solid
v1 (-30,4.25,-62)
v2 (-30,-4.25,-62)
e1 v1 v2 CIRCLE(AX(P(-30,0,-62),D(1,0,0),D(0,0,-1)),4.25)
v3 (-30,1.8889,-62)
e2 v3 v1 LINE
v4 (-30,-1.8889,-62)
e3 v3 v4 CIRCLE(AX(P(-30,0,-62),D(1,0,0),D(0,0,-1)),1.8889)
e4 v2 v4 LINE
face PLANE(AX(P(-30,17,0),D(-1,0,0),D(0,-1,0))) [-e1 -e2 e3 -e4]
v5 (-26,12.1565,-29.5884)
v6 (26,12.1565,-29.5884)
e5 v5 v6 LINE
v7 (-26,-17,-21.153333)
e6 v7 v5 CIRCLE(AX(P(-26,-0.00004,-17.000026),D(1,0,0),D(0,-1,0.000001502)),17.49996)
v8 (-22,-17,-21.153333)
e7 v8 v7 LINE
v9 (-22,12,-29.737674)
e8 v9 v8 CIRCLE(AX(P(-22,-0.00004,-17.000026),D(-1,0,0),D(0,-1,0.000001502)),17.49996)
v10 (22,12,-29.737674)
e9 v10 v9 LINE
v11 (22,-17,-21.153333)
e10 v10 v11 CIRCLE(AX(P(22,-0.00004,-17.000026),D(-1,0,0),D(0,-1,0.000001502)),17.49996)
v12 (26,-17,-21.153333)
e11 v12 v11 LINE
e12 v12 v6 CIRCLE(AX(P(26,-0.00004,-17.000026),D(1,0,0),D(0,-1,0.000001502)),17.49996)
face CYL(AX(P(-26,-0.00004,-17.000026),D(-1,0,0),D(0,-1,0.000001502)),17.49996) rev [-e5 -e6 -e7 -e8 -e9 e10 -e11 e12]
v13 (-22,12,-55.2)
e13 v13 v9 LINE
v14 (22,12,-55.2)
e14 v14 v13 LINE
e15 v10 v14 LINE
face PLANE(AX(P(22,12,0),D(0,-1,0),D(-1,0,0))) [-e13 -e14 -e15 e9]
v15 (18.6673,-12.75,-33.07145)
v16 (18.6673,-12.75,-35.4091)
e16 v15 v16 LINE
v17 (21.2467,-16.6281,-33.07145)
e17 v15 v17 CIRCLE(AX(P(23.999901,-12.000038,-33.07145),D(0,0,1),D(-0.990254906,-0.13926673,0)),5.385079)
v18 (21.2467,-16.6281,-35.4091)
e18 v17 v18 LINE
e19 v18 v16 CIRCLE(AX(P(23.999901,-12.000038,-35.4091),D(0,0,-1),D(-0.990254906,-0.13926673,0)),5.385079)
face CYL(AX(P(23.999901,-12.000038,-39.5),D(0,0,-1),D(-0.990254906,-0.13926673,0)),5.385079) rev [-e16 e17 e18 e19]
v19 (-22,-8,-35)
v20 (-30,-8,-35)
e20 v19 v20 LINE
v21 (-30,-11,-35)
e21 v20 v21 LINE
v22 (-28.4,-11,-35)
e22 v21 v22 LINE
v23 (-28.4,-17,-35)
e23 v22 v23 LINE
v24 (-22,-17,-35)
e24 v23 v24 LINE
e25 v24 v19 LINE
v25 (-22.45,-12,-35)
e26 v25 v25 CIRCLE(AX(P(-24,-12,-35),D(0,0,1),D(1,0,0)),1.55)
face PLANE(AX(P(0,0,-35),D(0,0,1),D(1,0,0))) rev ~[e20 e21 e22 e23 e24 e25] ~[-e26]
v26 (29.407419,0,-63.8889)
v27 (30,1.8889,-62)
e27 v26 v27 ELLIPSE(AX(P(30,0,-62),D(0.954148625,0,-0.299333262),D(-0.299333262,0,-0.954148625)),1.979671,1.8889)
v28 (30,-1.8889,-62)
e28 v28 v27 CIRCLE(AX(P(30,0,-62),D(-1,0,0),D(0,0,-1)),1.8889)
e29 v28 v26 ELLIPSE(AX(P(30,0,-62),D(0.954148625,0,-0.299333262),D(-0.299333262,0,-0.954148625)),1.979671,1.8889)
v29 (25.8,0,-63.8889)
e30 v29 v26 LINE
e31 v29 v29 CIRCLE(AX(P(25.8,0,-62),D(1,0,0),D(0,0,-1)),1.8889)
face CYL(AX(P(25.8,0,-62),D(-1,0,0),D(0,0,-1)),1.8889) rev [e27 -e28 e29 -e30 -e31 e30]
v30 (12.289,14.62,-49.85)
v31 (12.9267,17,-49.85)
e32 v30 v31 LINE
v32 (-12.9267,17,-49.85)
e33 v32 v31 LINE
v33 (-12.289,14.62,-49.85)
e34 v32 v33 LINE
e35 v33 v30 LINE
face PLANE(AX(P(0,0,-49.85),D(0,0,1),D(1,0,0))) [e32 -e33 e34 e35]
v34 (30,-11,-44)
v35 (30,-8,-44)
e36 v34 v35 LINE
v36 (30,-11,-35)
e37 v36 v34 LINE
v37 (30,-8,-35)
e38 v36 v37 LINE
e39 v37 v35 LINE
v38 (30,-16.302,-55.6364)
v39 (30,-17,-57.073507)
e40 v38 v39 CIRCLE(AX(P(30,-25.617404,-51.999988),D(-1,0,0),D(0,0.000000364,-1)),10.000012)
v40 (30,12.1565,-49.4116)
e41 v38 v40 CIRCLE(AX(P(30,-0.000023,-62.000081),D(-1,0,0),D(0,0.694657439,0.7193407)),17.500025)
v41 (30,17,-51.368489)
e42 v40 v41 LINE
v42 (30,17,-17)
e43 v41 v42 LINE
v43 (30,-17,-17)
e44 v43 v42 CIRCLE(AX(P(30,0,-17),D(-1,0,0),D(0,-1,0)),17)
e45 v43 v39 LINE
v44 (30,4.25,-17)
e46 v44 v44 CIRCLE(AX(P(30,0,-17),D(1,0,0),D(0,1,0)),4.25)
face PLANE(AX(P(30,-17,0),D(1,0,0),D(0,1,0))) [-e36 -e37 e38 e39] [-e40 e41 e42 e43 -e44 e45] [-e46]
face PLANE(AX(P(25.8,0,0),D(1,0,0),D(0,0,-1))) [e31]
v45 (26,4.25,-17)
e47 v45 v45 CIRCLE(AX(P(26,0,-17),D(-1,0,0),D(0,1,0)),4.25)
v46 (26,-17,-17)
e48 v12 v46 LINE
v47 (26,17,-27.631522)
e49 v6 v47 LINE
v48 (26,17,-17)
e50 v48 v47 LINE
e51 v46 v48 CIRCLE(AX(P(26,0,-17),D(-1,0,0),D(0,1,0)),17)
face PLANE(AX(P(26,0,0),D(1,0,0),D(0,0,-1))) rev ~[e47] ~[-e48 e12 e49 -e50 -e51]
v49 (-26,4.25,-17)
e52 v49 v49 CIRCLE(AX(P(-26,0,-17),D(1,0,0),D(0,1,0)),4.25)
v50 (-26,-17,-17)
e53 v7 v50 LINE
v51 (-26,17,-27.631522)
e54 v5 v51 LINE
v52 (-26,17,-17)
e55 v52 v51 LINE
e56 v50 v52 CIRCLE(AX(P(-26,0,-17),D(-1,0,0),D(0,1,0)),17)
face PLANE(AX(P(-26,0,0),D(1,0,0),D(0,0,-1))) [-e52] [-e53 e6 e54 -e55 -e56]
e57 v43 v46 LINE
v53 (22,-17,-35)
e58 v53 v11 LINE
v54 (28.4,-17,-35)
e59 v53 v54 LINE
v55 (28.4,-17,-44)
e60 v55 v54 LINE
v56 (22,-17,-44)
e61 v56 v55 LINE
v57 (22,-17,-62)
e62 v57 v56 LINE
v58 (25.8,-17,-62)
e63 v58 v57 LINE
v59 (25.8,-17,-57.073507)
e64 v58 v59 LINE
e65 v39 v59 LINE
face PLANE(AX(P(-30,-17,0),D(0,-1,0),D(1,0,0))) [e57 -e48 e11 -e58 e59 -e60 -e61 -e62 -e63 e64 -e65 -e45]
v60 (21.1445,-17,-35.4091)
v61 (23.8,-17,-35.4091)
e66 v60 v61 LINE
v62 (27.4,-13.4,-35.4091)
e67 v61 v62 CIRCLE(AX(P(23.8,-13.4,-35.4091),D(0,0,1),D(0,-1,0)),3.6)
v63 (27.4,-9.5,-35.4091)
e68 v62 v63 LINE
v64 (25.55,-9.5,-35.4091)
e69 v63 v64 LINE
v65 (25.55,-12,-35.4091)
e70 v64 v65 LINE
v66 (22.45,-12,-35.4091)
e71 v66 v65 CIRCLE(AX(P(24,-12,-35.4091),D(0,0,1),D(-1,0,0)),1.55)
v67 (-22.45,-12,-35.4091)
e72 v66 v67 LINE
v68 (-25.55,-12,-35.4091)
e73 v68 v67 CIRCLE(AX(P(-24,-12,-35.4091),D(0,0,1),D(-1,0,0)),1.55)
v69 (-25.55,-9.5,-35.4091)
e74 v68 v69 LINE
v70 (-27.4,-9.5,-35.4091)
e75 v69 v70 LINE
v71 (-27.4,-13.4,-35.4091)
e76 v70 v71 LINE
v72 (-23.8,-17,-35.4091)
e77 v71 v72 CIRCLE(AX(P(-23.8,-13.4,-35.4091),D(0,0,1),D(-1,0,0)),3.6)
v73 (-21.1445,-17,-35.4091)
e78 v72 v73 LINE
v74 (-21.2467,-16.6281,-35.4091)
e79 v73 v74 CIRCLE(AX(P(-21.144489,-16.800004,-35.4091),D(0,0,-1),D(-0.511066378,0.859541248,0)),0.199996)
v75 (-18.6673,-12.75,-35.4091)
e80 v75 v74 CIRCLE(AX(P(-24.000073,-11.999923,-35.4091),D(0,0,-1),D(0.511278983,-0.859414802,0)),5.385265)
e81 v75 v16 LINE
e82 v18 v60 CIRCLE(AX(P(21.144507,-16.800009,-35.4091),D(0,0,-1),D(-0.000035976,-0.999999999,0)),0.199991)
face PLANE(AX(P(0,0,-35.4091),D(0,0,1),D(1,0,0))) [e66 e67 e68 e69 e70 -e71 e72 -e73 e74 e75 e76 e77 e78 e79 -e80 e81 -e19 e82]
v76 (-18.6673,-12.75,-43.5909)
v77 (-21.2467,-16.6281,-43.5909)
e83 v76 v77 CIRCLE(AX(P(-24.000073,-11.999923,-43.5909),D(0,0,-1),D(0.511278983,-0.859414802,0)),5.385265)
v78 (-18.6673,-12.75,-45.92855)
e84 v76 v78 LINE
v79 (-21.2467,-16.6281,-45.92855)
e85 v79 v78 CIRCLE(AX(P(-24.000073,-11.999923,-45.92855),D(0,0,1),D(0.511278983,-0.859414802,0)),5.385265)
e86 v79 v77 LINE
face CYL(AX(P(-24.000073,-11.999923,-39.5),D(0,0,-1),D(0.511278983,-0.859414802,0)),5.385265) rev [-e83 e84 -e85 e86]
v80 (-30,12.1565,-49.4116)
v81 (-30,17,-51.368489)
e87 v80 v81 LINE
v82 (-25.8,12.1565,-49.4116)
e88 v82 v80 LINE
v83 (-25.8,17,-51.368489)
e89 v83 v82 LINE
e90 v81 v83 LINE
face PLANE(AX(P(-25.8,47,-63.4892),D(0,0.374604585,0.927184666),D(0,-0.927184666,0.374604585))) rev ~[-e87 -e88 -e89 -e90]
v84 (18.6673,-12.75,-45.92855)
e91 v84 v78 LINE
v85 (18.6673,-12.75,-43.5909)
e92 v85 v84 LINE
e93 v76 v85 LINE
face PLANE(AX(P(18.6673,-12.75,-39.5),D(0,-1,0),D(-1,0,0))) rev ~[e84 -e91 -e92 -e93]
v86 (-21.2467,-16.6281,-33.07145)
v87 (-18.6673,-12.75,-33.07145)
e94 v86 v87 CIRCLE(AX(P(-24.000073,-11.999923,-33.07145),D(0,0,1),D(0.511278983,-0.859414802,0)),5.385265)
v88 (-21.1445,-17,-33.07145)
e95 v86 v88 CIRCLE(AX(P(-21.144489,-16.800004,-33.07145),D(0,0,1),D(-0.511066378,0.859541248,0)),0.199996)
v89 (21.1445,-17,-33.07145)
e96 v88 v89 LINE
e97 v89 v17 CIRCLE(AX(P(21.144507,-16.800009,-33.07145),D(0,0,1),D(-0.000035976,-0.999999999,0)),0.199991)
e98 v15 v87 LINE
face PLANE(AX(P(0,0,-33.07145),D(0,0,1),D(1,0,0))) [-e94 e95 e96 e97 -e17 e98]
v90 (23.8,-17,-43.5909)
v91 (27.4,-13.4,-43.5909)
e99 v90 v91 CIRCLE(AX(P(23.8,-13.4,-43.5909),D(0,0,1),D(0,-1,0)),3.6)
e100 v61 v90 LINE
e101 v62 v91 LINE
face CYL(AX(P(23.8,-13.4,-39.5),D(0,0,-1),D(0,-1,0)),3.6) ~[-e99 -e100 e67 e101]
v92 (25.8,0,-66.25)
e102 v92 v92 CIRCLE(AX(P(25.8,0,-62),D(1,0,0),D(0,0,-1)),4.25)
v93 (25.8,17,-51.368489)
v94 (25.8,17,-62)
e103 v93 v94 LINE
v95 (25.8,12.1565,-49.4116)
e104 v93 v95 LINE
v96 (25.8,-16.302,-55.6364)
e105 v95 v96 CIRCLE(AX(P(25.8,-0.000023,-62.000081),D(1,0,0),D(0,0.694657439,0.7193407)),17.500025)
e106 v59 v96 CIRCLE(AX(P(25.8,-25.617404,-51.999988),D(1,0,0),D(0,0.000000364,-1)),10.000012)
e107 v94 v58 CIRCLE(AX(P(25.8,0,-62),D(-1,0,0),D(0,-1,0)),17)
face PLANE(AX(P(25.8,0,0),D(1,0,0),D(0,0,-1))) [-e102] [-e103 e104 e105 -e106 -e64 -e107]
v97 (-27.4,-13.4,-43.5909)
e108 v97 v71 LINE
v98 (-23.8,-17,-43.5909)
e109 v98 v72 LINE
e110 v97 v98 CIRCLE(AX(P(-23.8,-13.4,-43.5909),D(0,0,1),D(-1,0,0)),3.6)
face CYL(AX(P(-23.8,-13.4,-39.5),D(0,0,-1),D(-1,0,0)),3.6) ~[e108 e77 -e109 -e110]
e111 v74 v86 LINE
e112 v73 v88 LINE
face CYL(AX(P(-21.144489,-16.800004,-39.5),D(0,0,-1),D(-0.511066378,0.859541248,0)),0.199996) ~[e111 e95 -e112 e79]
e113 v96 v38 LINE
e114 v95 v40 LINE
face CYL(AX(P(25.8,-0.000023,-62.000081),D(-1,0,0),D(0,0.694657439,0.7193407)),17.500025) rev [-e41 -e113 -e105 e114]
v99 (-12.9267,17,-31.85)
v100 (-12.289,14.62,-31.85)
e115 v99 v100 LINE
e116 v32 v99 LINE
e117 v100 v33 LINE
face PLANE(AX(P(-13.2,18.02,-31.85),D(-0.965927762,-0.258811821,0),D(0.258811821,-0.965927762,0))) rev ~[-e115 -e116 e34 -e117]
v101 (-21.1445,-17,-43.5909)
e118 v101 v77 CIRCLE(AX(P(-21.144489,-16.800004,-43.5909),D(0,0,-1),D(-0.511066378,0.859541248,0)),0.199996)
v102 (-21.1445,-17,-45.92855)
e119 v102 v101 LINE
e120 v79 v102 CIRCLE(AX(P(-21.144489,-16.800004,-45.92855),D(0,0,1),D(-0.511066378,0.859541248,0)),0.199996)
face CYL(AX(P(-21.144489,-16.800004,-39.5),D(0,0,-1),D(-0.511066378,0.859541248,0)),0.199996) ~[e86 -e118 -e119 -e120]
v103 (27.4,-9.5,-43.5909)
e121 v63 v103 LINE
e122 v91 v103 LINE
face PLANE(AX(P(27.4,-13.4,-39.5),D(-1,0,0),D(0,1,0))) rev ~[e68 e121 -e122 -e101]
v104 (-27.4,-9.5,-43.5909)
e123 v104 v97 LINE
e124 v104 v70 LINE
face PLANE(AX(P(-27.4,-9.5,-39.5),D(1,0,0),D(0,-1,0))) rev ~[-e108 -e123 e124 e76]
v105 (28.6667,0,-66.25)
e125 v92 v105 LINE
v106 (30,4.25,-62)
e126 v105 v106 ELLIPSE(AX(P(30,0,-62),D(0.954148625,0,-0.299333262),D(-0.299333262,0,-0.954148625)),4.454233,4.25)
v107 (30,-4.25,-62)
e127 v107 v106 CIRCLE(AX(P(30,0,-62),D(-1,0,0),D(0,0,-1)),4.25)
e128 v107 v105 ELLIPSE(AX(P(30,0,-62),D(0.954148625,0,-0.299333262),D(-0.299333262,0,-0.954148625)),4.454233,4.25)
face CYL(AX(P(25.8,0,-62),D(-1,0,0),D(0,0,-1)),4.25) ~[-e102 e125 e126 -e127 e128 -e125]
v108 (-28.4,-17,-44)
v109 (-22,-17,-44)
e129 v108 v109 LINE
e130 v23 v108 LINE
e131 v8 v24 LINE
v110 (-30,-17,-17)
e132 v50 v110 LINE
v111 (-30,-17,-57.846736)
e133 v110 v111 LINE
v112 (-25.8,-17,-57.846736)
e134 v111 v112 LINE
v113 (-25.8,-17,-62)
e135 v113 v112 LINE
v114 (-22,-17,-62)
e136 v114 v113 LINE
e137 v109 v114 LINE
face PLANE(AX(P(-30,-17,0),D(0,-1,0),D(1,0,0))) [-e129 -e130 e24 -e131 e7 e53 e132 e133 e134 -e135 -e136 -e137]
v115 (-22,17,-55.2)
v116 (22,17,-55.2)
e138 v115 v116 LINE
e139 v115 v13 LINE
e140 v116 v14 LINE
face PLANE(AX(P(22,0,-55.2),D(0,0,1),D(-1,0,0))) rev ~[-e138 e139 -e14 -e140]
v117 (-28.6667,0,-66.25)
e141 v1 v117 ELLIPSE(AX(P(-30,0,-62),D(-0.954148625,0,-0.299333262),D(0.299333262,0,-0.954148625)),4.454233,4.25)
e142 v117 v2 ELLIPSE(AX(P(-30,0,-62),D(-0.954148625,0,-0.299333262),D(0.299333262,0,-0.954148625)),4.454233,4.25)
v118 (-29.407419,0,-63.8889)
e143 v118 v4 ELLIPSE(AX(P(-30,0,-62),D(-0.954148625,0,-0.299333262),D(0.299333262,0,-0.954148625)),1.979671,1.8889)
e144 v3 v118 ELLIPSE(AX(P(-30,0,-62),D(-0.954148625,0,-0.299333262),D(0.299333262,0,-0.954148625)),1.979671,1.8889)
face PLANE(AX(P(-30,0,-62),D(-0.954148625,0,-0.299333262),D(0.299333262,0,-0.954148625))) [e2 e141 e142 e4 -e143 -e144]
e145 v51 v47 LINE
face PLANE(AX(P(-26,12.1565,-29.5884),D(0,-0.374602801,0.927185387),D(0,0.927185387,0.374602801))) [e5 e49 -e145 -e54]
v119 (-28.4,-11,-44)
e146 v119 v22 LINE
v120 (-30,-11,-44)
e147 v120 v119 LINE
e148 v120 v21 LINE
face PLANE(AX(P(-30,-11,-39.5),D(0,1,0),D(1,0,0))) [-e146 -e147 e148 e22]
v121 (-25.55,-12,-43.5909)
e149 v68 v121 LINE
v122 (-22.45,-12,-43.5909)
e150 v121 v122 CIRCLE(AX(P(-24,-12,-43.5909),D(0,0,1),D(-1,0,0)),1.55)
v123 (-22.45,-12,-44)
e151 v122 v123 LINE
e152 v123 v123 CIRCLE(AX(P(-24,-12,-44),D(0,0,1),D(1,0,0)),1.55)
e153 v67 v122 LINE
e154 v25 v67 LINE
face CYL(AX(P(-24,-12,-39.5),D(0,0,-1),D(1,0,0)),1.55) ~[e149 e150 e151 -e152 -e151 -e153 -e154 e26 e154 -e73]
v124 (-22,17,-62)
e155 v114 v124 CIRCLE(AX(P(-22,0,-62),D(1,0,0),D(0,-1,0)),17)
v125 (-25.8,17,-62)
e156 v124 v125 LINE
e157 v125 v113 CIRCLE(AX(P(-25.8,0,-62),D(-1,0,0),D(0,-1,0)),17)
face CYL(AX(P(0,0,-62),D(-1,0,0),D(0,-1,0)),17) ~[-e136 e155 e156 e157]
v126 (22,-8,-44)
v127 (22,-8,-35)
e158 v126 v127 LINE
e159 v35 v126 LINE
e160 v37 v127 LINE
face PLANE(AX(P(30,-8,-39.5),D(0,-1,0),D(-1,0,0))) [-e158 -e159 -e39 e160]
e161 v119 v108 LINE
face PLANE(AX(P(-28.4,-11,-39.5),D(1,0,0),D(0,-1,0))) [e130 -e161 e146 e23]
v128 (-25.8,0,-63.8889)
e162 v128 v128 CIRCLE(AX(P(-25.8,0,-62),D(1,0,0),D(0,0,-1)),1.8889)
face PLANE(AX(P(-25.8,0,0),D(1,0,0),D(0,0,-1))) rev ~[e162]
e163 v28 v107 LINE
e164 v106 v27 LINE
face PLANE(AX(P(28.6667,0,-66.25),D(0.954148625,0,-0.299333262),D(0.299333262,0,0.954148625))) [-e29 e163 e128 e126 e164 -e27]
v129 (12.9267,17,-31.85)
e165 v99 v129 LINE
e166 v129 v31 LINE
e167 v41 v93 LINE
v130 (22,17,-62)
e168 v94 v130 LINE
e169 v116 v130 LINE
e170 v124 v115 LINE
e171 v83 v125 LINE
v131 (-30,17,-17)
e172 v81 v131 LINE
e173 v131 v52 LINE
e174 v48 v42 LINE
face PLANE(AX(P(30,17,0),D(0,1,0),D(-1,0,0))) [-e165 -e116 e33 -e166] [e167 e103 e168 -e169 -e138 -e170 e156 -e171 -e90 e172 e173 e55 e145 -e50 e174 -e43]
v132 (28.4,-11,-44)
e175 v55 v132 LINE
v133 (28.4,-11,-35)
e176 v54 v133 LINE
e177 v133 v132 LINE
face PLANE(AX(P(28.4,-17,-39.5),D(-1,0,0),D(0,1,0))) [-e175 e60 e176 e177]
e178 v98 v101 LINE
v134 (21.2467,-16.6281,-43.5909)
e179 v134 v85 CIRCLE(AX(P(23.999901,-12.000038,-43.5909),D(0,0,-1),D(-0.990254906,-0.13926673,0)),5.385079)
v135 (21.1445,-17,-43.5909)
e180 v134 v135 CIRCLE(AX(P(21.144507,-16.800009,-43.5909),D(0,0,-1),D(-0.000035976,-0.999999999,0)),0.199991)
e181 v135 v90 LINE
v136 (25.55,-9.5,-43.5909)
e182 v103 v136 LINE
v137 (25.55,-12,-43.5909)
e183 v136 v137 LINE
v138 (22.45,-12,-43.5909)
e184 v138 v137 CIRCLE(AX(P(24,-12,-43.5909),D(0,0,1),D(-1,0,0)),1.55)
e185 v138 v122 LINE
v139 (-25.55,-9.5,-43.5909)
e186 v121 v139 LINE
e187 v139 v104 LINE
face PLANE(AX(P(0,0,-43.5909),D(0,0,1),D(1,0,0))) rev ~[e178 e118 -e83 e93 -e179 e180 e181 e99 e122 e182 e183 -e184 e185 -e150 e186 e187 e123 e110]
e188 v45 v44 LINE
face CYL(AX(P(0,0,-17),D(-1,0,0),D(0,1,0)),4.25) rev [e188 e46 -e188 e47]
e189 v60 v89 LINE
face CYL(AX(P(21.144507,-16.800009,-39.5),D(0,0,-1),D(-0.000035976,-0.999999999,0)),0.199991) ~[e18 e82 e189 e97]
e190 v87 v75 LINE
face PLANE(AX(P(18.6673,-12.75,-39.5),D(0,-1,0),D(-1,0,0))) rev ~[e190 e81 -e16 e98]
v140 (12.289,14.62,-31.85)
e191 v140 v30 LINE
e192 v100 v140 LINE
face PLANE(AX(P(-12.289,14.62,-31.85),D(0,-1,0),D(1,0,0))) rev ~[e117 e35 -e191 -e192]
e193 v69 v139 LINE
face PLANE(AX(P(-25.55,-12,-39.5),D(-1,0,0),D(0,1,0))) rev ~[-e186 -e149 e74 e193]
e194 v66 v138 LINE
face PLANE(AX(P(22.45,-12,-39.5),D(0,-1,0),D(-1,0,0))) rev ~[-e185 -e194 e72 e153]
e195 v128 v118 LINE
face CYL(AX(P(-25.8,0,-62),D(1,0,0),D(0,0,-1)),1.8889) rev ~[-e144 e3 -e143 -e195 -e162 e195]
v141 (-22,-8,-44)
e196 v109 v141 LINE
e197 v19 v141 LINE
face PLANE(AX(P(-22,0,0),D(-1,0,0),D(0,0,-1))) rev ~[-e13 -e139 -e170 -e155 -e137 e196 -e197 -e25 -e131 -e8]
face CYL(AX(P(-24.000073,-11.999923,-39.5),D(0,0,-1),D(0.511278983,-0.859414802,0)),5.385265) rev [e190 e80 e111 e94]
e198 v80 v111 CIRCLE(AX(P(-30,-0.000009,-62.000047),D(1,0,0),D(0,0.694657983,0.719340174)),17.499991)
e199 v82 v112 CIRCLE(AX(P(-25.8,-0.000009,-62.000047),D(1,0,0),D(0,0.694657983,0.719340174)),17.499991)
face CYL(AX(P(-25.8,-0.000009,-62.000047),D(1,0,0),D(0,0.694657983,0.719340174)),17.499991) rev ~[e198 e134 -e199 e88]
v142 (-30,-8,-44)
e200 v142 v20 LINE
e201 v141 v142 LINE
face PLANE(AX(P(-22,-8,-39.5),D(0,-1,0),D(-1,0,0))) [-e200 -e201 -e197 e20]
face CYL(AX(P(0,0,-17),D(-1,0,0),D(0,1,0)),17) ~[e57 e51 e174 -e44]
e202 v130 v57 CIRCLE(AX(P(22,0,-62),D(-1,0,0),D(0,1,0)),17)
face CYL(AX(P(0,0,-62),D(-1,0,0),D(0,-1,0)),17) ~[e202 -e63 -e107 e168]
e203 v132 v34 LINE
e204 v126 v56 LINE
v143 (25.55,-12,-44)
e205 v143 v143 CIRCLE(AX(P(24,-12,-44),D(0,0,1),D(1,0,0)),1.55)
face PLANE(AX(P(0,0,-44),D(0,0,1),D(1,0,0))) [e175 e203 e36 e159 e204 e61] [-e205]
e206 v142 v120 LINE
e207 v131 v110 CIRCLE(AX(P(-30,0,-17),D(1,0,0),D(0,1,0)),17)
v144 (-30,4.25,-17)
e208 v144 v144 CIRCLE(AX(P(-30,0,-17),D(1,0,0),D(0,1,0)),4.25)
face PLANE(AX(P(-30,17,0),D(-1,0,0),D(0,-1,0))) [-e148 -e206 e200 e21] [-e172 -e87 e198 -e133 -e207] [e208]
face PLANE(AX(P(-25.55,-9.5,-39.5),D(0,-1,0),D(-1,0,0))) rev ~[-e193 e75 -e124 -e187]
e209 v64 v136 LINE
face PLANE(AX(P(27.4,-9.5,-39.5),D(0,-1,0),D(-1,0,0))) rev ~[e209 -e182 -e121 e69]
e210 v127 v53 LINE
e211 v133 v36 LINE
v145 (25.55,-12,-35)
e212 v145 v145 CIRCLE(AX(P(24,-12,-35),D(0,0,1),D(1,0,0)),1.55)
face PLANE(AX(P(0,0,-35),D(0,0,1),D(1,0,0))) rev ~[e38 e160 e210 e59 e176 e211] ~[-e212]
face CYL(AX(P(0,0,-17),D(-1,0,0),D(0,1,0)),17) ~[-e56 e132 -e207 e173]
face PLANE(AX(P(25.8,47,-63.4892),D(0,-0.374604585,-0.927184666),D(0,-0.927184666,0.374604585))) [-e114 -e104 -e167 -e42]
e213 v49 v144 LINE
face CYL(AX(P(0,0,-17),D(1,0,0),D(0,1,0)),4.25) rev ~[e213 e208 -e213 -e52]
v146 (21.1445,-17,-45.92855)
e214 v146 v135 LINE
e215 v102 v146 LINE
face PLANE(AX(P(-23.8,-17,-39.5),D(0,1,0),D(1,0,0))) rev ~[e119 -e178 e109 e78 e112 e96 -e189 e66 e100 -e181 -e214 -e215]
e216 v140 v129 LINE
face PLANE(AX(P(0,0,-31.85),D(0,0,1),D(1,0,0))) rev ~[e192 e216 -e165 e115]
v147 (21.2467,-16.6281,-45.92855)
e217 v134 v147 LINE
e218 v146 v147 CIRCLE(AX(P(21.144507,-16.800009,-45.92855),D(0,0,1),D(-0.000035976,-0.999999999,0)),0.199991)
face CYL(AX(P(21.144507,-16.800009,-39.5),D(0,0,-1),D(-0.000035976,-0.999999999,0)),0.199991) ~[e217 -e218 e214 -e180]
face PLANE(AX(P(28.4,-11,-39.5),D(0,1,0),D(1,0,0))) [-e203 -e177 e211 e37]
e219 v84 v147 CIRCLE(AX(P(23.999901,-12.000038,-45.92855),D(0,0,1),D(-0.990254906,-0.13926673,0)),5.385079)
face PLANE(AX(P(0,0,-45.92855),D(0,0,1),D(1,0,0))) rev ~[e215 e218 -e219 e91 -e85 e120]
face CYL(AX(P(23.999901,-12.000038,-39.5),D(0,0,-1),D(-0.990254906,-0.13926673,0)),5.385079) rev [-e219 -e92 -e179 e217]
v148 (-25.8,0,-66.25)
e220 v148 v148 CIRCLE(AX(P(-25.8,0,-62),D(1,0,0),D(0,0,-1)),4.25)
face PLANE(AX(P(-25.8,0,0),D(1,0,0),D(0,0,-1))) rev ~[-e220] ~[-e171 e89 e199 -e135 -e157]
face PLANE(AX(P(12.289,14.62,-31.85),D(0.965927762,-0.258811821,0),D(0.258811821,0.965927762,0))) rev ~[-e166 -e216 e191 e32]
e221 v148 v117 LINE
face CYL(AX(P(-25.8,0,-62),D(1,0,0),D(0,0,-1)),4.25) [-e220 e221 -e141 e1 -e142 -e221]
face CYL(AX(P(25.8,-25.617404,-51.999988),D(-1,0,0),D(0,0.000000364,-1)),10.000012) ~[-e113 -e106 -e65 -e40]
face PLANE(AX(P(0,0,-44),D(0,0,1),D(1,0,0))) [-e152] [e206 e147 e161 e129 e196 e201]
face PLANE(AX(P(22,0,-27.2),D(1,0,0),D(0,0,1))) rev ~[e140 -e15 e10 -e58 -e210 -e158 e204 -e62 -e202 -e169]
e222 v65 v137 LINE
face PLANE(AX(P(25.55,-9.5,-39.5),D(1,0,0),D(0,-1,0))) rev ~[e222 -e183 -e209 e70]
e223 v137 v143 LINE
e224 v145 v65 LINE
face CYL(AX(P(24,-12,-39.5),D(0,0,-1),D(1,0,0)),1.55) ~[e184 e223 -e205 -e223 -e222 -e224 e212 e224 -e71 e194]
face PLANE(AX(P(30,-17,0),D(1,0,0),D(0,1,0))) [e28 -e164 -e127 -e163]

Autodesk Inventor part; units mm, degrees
sketch "Sketch_1" plane through (0, 0, 0) normal (0, 0, 1) x (1, 0, 0)
  line L0 (-30, 17) -> (-30, -17)
  line L1 (-30, -17) -> (30, -17)
  line L2 (30, -17) -> (30, 17)
  line L3 (30, 17) -> (-30, 17)
extrude "Extrusion1" add sketch "Sketch_1" against normal blind 79
sketch "Sketch_3" plane through (0, 0, 0) normal (0, 0, 1) x (1, 0, 0)
  line L0 (-22, 12) -> (-22, -17)
  line L1 (-22, -17) -> (22, -17)
  line L2 (22, -17) -> (22, 12)
  line L3 (22, 12) -> (-22, 12)
extrude "Extrusion2" cut sketch "Sketch_3" along normal mid plane 158
sketch "Sketch_6" plane through (0, 0, -31.85) normal (0, 0, 1) x (1, 0, 0)
  line L0 (-13.2, 18.02) -> (-12.289, 14.62)
  line L1 (-12.289, 14.62) -> (12.289, 14.62)
  line L2 (12.289, 14.62) -> (13.2, 18.02)
  line L3 (13.2, 18.02) -> (-13.2, 18.02)
extrude "Extrusion3" cut sketch "Sketch_6" against normal blind 18
sketch "Sketch_4" plane through (0, 0, 0) normal (0, 1, 0) x (-1, 0, 0)
  line L0 (60, 60) -> (-60, 60)
  line L1 (-60, 60) -> (-60, -120)
  line L2 (-60, -120) -> (60, -120)
  line L3 (60, -120) -> (60, 60)
  line L4 (30, 0) -> (22, 0)
  line L5 (22, 0) -> (22, -27.2)
  line L6 (22, -27.2) -> (-22, -27.2)
  line L7 (-22, -27.2) -> (-22, 0)
  line L8 (-22, 0) -> (-30, 0)
  line L9 (-30, 0) -> (-30, -79)
  line L10 (-30, -79) -> (-22, -79)
  line L11 (-22, -79) -> (-22, -55.2)
  line L12 (-22, -55.2) -> (22, -55.2)
  line L13 (22, -55.2) -> (22, -79)
  line L14 (22, -79) -> (30, -79)
  line L15 (30, -79) -> (30, 0)
extrude "Extrusion4" cut sketch "Sketch_4" along normal mid plane 158
sketch "Sketch_2" plane through (0, 0, 0) normal (1, 0, 0) x (0, 1, 0)
  line L0 (45, 45) -> (-45, 45)
  line L1 (-45, 45) -> (-45, -90)
  line L2 (-45, -90) -> (45, -90)
  line L3 (45, -90) -> (45, 45)
  arc A0 (17, -17) -> (-17, -17) centre (0, -17) ccw
  line L4 (-17, -17) -> (-17, -62)
  arc A1 (-17, -62) -> (17, -62) centre (0, -62) ccw
  line L5 (17, -62) -> (17, -17)
extrude "Extrusion5" cut sketch "Sketch_2" along normal mid plane 60
sketch "Sketch_5" plane through (-25.8, 0, 0) normal (1, 0, 0) x (0, 0, -1)
  arc A0 (49.4116, 12.1565) -> (62, -17.5) centre (62, 0) ccw
  line L0 (62, -17.5) -> (62, -56)
  line L1 (62, -56) -> (89.4, -56)
  line L2 (89.4, -56) -> (89.4, 47)
  line L3 (89.4, 47) -> (63.4892, 47)
  line L4 (63.4892, 47) -> (49.4116, 12.1565)
  circle A1 centre (62, 0) radius 4.25
extrude "Extrusion6" cut sketch "Sketch_5" against normal blind 15
sketch "Sketch_8" plane through (-25.8, 0, 0) normal (1, 0, 0) x (0, 0, -1)
  circle A0 centre (62, 0) radius 1.8889
extrude "Extrusion7" cut sketch "Sketch_8" against normal blind 15
sketch "Sketch_11" plane through (0, 0, 0) normal (1, 0, 0) x (0, 1, 0)
  circle A0 centre (0, -17) radius 4.25
extrude "Extrusion8" cut sketch "Sketch_11" along normal mid plane 60
sketch "Sketch_24" plane through (-26, 0, 0) normal (1, 0, 0) x (0, 0, -1)
  line L0 (-3.4, -51) -> (17, -51)
  line L1 (17, -51) -> (17, -17.5)
  arc A0 (17, -17.5) -> (29.5884, 12.1565) centre (17, 0) ccw
  line L2 (29.5884, 12.1565) -> (21.5712, 32)
  line L3 (21.5712, 32) -> (-3.4, 32)
  line L4 (-3.4, 32) -> (-3.4, -51)
extrude "Extrusion9" cut sketch "Sketch_24" along normal blind 52
sketch "Sketch_7" plane through (25.8, 0, 0) normal (1, 0, 0) x (0, 0, -1)
  arc A0 (49.4116, 12.1565) -> (55.6364, -16.302) centre (62, 0) ccw
  arc A1 (62, -25.6174) -> (55.6364, -16.302) centre (52, -25.6174) ccw
  line L0 (62, -25.6174) -> (62, -56)
  line L1 (62, -56) -> (89.4, -56)
  line L2 (89.4, -56) -> (89.4, 47)
  line L3 (89.4, 47) -> (63.4892, 47)
  line L4 (63.4892, 47) -> (49.4116, 12.1565)
  circle A2 centre (62, 0) radius 4.25
extrude "Extrusion10" cut sketch "Sketch_7" along normal blind 15
sketch "Sketch_9" plane through (25.8, 0, 0) normal (1, 0, 0) x (0, 0, -1)
  circle A0 centre (62, 0) radius 1.8889
extrude "Extrusion11" cut sketch "Sketch_9" along normal blind 15
sketch "Sketch_10" plane through (0, 0, -39.5) normal (0, 0, 1) x (1, 0, 0)
  line L0 (-30, -8) -> (-30, -11)
  line L1 (-30, -11) -> (-28.4, -11)
  line L2 (-28.4, -11) -> (-28.4, -17)
  line L3 (-28.4, -17) -> (-22, -17)
  line L4 (-22, -17) -> (-22, -8)
  line L5 (-22, -8) -> (-30, -8)
  circle A0 centre (-24, -12) radius 1.55
extrude "Extrusion12" cut sketch "Sketch_10" along normal mid plane 9
sketch "Sketch_13" plane through (0, 0, -39.5) normal (0, 0, 1) x (1, 0, 0)
  line L0 (22, -8) -> (22, -17)
  line L1 (22, -17) -> (28.4, -17)
  line L2 (28.4, -17) -> (28.4, -11)
  line L3 (28.4, -11) -> (30, -11)
  line L4 (30, -11) -> (30, -8)
  line L5 (30, -8) -> (22, -8)
  circle A0 centre (24, -12) radius 1.55
extrude "Extrusion13" cut sketch "Sketch_13" along normal mid plane 9
sketch "Sketch_14" plane through (0, 0, 0) normal (0, 1, 0) x (-1, 0, 0)
  line L0 (-28.6667, -66.25) -> (-30, -62)
  line L1 (-30, -62) -> (-30, -66.25)
  line L2 (-30, -66.25) -> (-28.6667, -66.25)
extrude "Extrusion14" cut sketch "Sketch_14" along normal mid plane 8.5
sketch "Sketch_18" plane through (0, 0, 0) normal (0, 1, 0) x (-1, 0, 0)
  line L0 (30, -62) -> (28.6667, -66.25)
  line L1 (28.6667, -66.25) -> (30, -66.25)
  line L2 (30, -66.25) -> (30, -62)
extrude "Extrusion15" cut sketch "Sketch_18" along normal mid plane 8.5
sketch "Sketch_25" plane through (0, 0, -39.5) normal (0, 0, 1) x (1, 0, 0)
  line L0 (-27.4, -9.5) -> (-27.4, -13.4)
  arc A0 (-27.4, -13.4) -> (-23.8, -17) centre (-23.8, -13.4) ccw
  line L1 (-23.8, -17) -> (23.8, -17)
  arc A1 (23.8, -17) -> (27.4, -13.4) centre (23.8, -13.4) ccw
  line L2 (27.4, -13.4) -> (27.4, -9.5)
  line L3 (27.4, -9.5) -> (25.55, -9.5)
  line L4 (25.55, -9.5) -> (25.55, -12)
  arc A2 (22.45, -12) -> (25.55, -12) centre (24, -12) ccw
  line L5 (22.45, -12) -> (-22.45, -12)
  arc A3 (-25.55, -12) -> (-22.45, -12) centre (-24, -12) ccw
  line L6 (-25.55, -12) -> (-25.55, -9.5)
  line L7 (-25.55, -9.5) -> (-27.4, -9.5)
extrude "Extrusion16" add sketch "Sketch_25" along normal mid plane 8.1818
sketch "Sketch_27" plane through (0, 0, -39.5) normal (0, 0, 1) x (1, 0, 0)
  arc A0 (-21.2467, -16.6281) -> (-21.1445, -17) centre (-21.1445, -16.8) ccw
  line L0 (-21.1445, -17) -> (21.1445, -17)
  arc A1 (21.1445, -17) -> (21.2467, -16.6281) centre (21.1445, -16.8) ccw
  arc A2 (18.6673, -12.75) -> (21.2467, -16.6281) centre (24, -12) ccw
  line L1 (18.6673, -12.75) -> (-18.6673, -12.75)
  arc A3 (-21.2467, -16.6281) -> (-18.6673, -12.75) centre (-24, -12) ccw
extrude "Extrusion17" add sketch "Sketch_27" along normal mid plane 12.8571
ref_plane "clip1_to_dummy_XY" through (0, 0, -17) normal (1, 0, 0) x (0, 0, -1)
ref_plane "clip1_to_dummy_YZ" through (0, 0, -17) normal (0, 0, -1) x (0, 1, 0)
ref_plane "clip1_to_dummy_ZX" through (0, 0, -17) normal (0, 1, 0) x (1, 0, 0)
ref_plane "clip_back_to_clip_front_XY" through (0, 0, -62) normal (1, 0, 0) x (0, 0, -1)
ref_plane "clip_back_to_clip_front_YZ" through (0, 0, -62) normal (0, 0, -1) x (0, 1, 0)
ref_plane "clip_back_to_clip_front_ZX" through (0, 0, -62) normal (0, 1, 0) x (1, 0, 0)
ref_plane "clip_end_to_fitting_free_left_XY" through (-25.8, 0, -917) normal (1, 0, 0) x (0, 0, -1)
ref_plane "clip_end_to_fitting_free_left_YZ" through (-25.8, 0, -917) normal (0, 0, -1) x (0, 1, 0)
ref_plane "clip_end_to_fitting_free_left_ZX" through (-25.8, 0, -917) normal (0, 1, 0) x (1, 0, 0)
ref_plane "clip_end_to_fitting_free_right_XY" through (25.8, 0, -917) normal (1, 0, 0) x (0, 0, -1)
ref_plane "clip_end_to_fitting_free_right_YZ" through (25.8, 0, -917) normal (0, 0, -1) x (0, 1, 0)
ref_plane "clip_end_to_fitting_free_right_ZX" through (25.8, 0, -917) normal (0, 1, 0) x (1, 0, 0)
ref_plane "clip_front_to_clip_back_XY" through (0, 0, -17) normal (1, 0, 0) x (0, 0, -1)
ref_plane "clip_front_to_clip_back_YZ" through (0, 0, -17) normal (0, 0, -1) x (0, 1, 0)
ref_plane "clip_front_to_clip_back_ZX" through (0, 0, -17) normal (0, 1, 0) x (1, 0, 0)
ref_plane "clip_front_to_fitting_fixed_left_XY" through (-26, 0, -17) normal (1, 0, 0) x (0, 0, -1)
ref_plane "clip_front_to_fitting_fixed_left_YZ" through (-26, 0, -17) normal (0, 0, -1) x (0, 1, 0)
ref_plane "clip_front_to_fitting_fixed_left_ZX" through (-26, 0, -17) normal (0, 1, 0) x (1, 0, 0)
ref_plane "clip_front_to_fitting_fixed_right_XY" through (26, 0, -17) normal (1, 0, 0) x (0, 0, -1)
ref_plane "clip_front_to_fitting_fixed_right_YZ" through (26, 0, -17) normal (0, 0, -1) x (0, 1, 0)
ref_plane "clip_front_to_fitting_fixed_right_ZX" through (26, 0, -17) normal (0, 1, 0) x (1, 0, 0)
ref_plane "clip_front_to_fitting_right_XY" through (0, 0, -17) normal (1, 0, 0) x (0, 0, -1)
ref_plane "clip_front_to_fitting_right_YZ" through (0, 0, -17) normal (0, 0, -1) x (0, 1, 0)
ref_plane "clip_front_to_fitting_right_ZX" through (0, 0, -17) normal (0, 1, 0) x (1, 0, 0)
ref_plane "clip_to_flap_XY" through (-24, -12, -39.5) normal (0, 0, 1) x (1, 0, 0)
ref_plane "clip_to_flap_YZ" through (-24, -12, -39.5) normal (1, 0, 0) x (0, 1, 0)
ref_plane "clip_to_flap_ZX" through (-24, -12, -39.5) normal (0, 1, 0) x (0, 0, 1)
ref_plane "to_center_XY" through (0, 44.6514, -39.5) normal (1, 0, 0) x (0, 0, -1)
ref_plane "to_center_YZ" through (0, 44.6514, -39.5) normal (0, 0, -1) x (0, 1, 0)
ref_plane "to_center_ZX" through (0, 44.6514, -39.5) normal (0, 1, 0) x (1, 0, 0)
ref_plane "to_clip1_XY" through (0, 0, -17) normal (0, 0, 1) x (1, 0, 0)
ref_plane "to_clip1_YZ" through (0, 0, -17) normal (1, 0, 0) x (0, 1, 0)
ref_plane "to_clip1_ZX" through (0, 0, -17) normal (0, 1, 0) x (0, 0, 1)
ref_plane "to_clip5_XY" through (0, 0, -917) normal (0, 0, 1) x (1, 0, 0)
ref_plane "to_clip5_YZ" through (0, 0, -917) normal (1, 0, 0) x (0, 1, 0)
ref_plane "to_clip5_ZX" through (0, 0, -917) normal (0, 1, 0) x (0, 0, 1)
properties part number "MHPUS306-50-25-Aclip"
